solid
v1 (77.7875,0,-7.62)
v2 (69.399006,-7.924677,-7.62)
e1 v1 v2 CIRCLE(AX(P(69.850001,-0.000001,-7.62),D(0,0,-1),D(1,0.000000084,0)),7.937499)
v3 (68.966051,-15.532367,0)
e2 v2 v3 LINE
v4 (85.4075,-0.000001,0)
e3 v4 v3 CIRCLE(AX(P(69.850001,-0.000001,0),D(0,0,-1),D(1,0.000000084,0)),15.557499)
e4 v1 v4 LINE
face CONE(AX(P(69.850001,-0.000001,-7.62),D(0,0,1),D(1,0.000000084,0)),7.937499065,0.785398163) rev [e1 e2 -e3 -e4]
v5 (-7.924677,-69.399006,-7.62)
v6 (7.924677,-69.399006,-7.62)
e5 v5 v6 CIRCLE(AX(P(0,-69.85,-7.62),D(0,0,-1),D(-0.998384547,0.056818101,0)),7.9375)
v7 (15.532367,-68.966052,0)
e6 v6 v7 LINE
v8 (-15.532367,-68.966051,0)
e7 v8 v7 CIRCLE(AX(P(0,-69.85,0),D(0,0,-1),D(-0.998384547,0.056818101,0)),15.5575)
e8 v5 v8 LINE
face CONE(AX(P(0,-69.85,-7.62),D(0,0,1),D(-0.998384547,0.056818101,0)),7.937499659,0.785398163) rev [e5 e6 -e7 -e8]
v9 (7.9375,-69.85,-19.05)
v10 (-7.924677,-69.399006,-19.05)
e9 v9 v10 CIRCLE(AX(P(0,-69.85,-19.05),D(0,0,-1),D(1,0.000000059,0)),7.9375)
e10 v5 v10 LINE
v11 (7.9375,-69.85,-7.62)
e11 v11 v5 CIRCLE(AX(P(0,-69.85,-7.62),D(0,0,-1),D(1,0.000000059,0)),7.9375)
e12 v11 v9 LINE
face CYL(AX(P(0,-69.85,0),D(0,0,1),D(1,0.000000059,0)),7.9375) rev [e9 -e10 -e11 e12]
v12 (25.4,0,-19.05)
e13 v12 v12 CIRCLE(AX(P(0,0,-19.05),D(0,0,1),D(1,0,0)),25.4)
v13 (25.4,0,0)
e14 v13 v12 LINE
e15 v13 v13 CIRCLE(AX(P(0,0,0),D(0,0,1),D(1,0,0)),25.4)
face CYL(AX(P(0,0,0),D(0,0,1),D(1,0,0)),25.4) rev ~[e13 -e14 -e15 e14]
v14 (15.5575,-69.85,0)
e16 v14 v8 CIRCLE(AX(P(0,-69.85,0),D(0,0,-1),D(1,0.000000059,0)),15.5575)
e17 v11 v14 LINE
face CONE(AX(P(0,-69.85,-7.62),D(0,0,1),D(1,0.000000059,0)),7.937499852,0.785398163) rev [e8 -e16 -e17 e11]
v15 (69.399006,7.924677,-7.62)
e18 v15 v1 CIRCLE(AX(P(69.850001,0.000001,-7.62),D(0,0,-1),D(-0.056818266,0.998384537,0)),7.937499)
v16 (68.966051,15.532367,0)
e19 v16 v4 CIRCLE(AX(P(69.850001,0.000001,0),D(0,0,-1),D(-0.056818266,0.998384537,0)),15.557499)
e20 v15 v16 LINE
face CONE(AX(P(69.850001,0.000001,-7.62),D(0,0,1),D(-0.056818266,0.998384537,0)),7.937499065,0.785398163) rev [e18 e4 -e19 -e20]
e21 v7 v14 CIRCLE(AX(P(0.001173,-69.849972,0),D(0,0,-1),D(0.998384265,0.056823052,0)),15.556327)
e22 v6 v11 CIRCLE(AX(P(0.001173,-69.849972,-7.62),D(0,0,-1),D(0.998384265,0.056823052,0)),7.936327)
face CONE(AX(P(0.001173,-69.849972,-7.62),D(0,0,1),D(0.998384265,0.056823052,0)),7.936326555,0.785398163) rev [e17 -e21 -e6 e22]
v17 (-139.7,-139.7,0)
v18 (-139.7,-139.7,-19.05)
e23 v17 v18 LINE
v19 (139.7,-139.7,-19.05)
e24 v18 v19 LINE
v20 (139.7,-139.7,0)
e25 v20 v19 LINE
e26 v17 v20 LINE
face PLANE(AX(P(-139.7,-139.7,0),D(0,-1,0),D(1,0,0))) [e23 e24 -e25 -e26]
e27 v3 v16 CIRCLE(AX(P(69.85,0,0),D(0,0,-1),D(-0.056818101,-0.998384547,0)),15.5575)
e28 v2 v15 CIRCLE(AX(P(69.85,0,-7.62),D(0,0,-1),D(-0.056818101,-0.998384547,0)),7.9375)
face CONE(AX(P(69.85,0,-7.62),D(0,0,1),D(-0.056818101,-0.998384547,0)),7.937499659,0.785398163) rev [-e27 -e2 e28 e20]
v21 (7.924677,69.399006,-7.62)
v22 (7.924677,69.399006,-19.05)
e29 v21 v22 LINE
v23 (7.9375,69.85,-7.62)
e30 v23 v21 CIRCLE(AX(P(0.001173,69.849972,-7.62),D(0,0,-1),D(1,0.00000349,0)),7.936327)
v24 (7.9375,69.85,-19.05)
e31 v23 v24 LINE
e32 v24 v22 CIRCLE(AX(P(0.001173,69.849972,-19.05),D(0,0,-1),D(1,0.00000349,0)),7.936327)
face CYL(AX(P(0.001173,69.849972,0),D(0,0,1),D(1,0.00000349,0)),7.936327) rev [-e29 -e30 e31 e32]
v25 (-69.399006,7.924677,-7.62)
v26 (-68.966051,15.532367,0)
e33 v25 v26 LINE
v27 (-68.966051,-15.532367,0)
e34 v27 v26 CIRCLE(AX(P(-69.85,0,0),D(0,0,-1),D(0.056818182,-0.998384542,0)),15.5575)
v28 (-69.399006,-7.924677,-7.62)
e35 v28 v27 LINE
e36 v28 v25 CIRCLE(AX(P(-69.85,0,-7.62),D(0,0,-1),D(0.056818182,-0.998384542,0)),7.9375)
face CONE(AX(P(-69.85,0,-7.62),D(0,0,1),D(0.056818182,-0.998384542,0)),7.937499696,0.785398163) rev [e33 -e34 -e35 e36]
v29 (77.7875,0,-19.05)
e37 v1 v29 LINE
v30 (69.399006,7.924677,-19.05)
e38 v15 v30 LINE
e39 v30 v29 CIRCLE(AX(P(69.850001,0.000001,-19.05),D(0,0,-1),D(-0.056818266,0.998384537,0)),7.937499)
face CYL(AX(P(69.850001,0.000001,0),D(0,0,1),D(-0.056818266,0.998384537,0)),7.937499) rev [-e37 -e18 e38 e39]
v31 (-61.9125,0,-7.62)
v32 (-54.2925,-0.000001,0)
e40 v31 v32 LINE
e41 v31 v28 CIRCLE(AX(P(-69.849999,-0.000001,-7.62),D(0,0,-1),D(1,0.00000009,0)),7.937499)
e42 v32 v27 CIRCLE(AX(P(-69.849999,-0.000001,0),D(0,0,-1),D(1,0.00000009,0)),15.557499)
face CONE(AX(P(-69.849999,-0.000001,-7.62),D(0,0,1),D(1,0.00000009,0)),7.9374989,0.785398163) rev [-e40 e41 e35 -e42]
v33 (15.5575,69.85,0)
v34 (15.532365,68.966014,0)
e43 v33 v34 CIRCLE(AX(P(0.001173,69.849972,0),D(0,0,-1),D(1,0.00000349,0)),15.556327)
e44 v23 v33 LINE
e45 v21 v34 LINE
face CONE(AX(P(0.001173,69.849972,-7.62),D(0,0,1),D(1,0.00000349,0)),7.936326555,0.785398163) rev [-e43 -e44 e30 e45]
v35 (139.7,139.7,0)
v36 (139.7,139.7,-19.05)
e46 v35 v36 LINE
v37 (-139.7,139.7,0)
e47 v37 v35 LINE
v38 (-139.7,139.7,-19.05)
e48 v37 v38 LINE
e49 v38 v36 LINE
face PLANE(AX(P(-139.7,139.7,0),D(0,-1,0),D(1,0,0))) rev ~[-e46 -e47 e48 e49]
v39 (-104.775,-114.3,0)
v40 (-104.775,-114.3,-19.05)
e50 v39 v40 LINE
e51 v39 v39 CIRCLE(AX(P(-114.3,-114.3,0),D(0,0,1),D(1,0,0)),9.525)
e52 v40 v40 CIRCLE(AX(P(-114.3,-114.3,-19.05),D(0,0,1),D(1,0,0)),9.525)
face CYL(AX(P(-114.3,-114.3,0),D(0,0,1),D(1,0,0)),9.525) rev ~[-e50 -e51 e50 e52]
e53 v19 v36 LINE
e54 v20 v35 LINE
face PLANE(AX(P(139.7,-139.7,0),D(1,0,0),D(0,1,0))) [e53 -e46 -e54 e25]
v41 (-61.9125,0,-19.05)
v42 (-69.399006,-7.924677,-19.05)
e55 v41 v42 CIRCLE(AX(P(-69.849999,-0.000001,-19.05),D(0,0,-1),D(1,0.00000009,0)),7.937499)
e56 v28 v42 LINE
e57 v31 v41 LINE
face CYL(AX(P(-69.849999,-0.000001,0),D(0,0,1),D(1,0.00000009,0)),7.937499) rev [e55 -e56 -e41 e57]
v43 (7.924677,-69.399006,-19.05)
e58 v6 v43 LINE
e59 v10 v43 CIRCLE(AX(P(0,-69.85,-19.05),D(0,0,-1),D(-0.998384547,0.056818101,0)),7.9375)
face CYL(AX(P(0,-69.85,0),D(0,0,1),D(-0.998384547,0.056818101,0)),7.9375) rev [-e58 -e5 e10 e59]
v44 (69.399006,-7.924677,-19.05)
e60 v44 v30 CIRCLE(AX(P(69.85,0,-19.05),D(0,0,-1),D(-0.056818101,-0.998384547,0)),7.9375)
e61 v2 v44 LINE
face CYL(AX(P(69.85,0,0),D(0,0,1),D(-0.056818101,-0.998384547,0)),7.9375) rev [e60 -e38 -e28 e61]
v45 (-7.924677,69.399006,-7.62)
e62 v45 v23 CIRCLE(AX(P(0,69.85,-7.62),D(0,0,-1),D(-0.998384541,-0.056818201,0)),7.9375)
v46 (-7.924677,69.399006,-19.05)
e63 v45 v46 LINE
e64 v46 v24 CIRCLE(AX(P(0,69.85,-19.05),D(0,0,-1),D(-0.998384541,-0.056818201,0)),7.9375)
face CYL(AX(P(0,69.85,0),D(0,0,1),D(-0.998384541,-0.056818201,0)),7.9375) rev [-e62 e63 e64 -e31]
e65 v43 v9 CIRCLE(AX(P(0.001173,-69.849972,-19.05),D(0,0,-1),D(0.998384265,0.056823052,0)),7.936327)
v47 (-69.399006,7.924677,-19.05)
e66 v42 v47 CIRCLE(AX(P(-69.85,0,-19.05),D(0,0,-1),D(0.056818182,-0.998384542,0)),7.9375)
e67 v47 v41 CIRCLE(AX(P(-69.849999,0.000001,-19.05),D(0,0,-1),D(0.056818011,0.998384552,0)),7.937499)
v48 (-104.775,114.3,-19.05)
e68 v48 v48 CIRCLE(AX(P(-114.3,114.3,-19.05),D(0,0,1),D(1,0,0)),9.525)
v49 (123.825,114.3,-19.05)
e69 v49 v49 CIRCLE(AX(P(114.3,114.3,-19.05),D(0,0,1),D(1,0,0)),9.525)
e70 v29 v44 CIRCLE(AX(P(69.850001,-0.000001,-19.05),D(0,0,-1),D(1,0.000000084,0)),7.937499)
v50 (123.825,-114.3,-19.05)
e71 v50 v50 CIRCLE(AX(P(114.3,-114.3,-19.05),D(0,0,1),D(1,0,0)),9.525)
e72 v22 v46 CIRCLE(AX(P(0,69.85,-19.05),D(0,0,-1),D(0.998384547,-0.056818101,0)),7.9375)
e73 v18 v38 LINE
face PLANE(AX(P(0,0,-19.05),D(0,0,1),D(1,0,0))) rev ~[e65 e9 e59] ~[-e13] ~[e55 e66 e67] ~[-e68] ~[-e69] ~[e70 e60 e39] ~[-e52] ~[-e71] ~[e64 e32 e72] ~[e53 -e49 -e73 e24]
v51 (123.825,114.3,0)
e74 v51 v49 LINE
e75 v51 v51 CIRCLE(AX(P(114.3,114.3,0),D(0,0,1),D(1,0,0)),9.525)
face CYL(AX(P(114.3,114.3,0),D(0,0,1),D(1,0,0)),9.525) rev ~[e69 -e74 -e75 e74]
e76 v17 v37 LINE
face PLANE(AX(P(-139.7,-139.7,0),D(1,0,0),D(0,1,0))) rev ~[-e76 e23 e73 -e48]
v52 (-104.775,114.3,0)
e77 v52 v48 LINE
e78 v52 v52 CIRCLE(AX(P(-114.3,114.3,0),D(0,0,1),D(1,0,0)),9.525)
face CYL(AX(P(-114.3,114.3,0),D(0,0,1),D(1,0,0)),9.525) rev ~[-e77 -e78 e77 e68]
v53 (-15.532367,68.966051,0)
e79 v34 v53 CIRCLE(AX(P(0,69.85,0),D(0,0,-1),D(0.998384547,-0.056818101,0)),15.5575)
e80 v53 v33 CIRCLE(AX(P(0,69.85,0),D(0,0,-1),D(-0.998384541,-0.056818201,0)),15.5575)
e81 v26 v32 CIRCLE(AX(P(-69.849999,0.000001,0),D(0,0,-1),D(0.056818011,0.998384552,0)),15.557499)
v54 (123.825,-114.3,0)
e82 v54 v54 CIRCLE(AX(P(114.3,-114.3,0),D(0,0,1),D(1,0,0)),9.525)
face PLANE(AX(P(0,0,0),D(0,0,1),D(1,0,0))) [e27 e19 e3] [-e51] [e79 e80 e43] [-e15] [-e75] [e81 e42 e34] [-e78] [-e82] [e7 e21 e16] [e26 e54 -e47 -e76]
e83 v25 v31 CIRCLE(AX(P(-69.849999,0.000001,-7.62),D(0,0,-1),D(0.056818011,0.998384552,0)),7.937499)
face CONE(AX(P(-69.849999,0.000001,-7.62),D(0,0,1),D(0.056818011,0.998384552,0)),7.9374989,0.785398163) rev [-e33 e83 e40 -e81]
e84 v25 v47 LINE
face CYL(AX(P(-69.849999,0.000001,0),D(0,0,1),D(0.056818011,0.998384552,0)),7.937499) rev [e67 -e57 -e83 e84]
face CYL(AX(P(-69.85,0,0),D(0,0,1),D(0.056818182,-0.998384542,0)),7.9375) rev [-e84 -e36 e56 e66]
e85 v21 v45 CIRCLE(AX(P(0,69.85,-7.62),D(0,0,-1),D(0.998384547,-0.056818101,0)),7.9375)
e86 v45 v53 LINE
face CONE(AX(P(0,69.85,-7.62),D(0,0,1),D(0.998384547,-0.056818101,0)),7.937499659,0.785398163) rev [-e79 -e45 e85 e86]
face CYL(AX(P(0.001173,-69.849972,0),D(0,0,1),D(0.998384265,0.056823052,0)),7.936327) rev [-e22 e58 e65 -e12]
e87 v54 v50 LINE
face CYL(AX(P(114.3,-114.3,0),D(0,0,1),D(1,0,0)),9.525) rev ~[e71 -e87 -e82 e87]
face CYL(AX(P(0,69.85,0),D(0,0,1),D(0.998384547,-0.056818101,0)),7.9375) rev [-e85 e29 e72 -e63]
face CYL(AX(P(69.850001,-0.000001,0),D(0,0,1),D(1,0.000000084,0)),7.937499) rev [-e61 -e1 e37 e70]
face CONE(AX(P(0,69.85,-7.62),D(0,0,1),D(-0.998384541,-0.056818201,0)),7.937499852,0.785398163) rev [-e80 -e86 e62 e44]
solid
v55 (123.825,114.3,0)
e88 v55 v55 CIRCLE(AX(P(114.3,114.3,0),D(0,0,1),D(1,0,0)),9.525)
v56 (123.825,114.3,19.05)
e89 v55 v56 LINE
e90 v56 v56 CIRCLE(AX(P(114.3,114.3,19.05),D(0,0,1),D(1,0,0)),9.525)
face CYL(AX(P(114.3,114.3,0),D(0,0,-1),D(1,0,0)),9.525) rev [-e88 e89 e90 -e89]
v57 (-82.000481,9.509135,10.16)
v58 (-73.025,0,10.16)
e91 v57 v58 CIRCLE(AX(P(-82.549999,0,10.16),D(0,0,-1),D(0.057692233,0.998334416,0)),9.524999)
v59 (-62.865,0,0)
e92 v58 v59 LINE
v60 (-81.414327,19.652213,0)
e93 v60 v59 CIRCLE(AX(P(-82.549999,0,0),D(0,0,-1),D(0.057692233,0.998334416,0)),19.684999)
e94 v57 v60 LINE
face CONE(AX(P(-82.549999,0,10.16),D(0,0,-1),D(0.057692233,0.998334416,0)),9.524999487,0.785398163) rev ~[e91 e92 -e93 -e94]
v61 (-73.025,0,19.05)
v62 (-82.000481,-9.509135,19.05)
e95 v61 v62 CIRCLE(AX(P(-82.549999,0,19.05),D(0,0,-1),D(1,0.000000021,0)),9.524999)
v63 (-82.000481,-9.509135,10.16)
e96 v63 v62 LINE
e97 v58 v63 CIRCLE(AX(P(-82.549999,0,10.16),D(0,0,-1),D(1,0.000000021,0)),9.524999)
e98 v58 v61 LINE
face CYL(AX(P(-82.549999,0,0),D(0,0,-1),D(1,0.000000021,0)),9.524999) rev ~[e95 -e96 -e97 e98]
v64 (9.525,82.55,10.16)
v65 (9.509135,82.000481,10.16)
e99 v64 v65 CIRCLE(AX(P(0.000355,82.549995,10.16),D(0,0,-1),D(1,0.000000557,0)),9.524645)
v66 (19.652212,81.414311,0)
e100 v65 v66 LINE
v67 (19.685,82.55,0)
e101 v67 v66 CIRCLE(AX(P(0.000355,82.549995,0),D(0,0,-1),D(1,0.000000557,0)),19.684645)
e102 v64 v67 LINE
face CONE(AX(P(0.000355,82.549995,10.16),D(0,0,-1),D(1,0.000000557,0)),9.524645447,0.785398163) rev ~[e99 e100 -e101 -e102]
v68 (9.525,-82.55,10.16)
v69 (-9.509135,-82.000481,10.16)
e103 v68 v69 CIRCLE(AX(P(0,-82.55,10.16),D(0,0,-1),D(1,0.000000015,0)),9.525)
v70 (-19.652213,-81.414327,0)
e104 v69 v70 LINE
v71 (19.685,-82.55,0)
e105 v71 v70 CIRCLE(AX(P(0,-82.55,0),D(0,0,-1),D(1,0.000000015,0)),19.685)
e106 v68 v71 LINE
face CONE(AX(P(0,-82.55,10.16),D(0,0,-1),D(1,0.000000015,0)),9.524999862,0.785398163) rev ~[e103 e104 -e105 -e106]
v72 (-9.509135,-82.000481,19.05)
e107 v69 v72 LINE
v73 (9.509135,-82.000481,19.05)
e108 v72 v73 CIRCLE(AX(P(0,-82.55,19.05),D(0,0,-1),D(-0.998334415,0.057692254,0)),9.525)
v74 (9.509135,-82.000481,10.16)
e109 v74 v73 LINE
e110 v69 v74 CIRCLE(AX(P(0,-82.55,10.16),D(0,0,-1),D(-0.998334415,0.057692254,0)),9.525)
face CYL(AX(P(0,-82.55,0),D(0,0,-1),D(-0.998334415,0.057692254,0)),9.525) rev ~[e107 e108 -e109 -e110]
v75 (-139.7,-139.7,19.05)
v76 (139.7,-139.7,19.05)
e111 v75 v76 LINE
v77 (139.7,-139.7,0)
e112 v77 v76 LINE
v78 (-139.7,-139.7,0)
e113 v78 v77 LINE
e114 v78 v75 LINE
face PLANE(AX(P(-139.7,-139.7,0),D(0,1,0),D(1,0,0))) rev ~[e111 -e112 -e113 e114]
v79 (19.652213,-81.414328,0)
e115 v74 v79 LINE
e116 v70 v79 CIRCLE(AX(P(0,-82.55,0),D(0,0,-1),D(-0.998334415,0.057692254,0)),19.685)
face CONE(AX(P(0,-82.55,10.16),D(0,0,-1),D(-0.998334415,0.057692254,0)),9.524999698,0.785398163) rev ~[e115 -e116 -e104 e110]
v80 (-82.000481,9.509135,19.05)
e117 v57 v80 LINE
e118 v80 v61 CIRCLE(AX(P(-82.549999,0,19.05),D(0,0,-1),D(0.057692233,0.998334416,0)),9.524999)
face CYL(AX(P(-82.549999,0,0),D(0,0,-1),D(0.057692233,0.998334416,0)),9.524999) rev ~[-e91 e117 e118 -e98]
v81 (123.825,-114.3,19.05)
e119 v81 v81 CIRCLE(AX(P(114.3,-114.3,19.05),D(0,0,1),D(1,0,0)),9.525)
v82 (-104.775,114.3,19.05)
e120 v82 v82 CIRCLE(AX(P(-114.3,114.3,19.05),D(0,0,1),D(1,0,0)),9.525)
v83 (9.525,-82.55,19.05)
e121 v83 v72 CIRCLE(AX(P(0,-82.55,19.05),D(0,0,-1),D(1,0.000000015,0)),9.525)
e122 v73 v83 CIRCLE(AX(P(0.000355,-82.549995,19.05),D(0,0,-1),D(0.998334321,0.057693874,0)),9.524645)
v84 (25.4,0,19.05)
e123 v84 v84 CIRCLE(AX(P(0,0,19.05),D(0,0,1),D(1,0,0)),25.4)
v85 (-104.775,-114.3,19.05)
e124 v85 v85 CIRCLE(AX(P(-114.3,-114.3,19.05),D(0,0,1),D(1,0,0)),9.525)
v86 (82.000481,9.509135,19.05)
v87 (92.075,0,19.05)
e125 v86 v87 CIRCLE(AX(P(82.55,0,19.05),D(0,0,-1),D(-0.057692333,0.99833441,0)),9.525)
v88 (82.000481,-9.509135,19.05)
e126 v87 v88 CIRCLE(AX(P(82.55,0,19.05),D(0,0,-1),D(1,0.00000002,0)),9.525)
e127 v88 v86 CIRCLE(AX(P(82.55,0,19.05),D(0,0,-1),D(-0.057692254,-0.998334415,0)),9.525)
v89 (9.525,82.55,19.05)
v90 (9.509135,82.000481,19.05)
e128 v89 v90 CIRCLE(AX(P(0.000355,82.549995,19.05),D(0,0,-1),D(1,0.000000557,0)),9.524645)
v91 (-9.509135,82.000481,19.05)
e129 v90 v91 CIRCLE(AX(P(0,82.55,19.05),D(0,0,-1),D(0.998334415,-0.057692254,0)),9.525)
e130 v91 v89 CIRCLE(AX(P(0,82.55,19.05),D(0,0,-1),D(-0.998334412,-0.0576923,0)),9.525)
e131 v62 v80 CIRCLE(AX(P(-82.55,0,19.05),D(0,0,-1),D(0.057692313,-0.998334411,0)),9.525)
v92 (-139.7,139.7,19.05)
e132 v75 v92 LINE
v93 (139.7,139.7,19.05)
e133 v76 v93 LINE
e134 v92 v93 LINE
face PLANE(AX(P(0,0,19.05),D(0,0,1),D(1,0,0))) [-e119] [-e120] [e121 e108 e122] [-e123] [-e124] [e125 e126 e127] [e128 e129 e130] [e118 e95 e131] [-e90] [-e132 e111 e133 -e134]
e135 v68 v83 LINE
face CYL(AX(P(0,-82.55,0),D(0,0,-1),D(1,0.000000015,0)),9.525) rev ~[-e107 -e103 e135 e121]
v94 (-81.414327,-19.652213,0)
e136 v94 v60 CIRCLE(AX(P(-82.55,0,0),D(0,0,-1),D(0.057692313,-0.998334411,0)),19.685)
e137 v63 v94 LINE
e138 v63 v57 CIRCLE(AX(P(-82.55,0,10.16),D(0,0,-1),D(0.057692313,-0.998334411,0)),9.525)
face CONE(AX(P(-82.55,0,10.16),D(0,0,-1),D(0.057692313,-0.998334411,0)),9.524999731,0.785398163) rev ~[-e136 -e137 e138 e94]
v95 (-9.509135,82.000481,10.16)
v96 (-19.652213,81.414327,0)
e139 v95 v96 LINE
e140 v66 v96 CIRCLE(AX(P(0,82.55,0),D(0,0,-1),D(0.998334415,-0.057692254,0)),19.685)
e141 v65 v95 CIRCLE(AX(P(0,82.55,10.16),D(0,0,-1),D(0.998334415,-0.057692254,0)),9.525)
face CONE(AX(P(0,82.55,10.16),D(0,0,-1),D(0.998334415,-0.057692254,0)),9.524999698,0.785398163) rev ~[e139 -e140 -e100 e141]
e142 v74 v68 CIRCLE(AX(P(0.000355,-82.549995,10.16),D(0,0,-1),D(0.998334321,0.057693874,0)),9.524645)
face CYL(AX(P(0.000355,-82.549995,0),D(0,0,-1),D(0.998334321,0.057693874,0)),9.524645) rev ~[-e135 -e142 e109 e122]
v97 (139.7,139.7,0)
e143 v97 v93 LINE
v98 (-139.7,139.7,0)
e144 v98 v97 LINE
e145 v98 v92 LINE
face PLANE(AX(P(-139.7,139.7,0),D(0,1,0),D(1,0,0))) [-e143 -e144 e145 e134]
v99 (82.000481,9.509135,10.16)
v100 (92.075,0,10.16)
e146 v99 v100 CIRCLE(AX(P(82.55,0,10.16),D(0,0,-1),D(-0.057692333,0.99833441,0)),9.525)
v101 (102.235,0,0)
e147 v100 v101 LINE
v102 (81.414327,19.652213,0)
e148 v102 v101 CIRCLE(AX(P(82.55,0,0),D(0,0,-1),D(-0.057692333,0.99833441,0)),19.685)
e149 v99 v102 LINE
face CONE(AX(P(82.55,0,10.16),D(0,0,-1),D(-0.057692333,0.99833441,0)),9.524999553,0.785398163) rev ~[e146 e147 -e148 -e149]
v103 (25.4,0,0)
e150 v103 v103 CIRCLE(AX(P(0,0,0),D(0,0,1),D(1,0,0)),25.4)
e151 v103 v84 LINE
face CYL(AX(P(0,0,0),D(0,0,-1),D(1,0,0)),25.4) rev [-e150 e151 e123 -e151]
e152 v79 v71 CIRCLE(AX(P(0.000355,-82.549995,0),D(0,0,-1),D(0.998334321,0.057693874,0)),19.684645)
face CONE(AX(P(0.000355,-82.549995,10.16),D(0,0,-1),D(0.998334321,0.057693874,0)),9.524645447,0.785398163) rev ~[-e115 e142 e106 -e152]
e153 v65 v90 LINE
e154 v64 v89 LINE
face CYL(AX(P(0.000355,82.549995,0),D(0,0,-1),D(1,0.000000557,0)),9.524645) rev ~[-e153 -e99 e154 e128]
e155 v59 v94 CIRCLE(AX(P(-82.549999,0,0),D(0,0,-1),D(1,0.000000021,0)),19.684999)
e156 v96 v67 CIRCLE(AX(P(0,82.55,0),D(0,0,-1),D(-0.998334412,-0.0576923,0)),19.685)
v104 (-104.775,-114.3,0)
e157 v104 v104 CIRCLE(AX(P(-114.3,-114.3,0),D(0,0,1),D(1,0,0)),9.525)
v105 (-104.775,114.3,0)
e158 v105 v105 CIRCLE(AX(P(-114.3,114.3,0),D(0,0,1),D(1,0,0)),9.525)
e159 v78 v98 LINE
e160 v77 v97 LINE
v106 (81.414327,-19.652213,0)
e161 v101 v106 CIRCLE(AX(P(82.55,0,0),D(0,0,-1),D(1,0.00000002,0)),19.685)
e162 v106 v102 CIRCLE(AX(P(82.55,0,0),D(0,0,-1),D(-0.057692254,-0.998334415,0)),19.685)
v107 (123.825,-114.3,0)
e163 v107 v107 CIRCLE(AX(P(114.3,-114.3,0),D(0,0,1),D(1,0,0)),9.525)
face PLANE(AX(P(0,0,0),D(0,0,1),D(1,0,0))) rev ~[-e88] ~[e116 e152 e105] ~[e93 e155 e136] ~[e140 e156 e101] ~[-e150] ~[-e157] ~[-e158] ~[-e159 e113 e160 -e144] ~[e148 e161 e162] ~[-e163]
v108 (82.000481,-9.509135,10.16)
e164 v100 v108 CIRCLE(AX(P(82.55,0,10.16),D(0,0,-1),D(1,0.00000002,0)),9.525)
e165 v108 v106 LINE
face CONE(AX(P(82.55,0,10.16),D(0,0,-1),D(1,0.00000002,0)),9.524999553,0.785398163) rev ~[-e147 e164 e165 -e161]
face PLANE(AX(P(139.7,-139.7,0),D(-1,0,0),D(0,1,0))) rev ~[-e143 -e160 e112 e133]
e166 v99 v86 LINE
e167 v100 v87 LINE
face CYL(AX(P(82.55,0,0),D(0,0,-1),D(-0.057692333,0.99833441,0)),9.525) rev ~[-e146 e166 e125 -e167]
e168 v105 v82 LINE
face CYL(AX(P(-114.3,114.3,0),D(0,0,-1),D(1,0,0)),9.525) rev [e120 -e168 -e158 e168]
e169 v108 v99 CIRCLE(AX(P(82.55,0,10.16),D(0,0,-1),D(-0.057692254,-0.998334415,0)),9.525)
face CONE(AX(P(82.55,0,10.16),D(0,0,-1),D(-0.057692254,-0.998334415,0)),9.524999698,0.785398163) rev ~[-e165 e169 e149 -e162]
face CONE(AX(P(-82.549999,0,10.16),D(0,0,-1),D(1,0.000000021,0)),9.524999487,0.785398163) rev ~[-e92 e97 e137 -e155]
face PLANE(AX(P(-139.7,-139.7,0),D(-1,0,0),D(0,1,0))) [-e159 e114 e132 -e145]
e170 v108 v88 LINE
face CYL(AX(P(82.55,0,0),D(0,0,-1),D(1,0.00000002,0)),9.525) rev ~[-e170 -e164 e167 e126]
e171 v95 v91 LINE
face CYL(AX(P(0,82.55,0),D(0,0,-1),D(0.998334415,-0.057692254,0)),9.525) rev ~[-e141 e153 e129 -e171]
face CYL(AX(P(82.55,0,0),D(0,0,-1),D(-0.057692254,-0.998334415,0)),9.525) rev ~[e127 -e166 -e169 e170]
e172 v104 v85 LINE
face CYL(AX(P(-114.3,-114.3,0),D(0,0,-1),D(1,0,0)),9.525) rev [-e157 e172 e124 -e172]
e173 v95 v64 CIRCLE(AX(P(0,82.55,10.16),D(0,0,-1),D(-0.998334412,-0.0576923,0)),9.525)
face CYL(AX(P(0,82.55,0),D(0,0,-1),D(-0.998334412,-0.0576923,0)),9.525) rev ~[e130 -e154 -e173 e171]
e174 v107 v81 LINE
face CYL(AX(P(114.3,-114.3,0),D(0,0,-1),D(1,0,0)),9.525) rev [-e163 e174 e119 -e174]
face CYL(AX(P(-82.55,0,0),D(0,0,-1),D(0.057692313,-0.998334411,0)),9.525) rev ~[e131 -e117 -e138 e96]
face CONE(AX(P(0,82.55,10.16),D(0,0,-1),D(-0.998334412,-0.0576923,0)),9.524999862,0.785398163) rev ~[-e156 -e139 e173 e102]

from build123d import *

# Parameters (mm, degrees)
F0_W     = 279.4
F0_H     = 279.4
F0_R     = 9.525
F0_R_2   = 118.11
F0_R_3   = 25.4
F1_DEPTH = 19.05
F2_SIZE  = 10.16
F3_W     = 279.4
F3_H     = 279.4
F3_R     = 9.525
F3_R_2   = 25.4
F4_DEPTH = 19.05
F5_SIZE  = 7.62


with BuildPart() as f1:
    # F0 (on Top) → F1 (new body)
    with BuildSketch(Plane.XY):
        Rectangle(F0_W, F0_H)
        with Locations((-114.3, -114.3)):
            Circle(F0_R, mode=Mode.SUBTRACT)
        with Locations((114.3, -114.3)):
            Circle(F0_R, mode=Mode.SUBTRACT)
        with Locations((-114.3, 114.3)):
            Circle(F0_R, mode=Mode.SUBTRACT)
        Circle(F0_R_2, mode=Mode.SUBTRACT)
        with Locations((114.3, 114.3)):
            Circle(F0_R, mode=Mode.SUBTRACT)
        Circle(F0_R_2)
        with BuildLine():
            ThreePointArc((9.509135, 82.000481), (58.371665, 58.371665), (82.000481, 9.509135))
            ThreePointArc((82.000481, 9.509135), (89.088022, 6.926752), (92.075, 0))
            ThreePointArc((92.075, 0), (89.088022, -6.926752), (82.000481, -9.509135))
            ThreePointArc((82.000481, -9.509135), (58.371665, -58.371665), (9.509135, -82.000481))
            ThreePointArc((9.509135, -82.000481), (9.521033, -82.275126), (9.525, -82.55))
            ThreePointArc((9.525, -82.55), (-0.274874, -92.071033), (-9.509135, -82.000481))
            ThreePointArc((-9.509135, -82.000481), (-58.371665, -58.371665), (-82.000481, -9.509135))
            ThreePointArc((-82.000481, -9.509135), (-92.075, 0), (-82.000481, 9.509135))
            ThreePointArc((-82.000481, 9.509135), (-58.371665, 58.371665), (-9.509135, 82.000481))
            ThreePointArc((-9.509135, 82.000481), (-0.274874, 92.071033), (9.525, 82.55))
            ThreePointArc((9.525, 82.55), (9.521033, 82.275126), (9.509135, 82.000481))
        make_face(mode=Mode.SUBTRACT)
        with BuildLine():
            ThreePointArc((82.000481, -9.509135), (73.025, 0), (82.000481, 9.509135))
            ThreePointArc((82.000481, 9.509135), (58.371665, 58.371665), (9.509135, 82.000481))
            ThreePointArc((9.509135, 82.000481), (0, 73.025), (-9.509135, 82.000481))
            ThreePointArc((-9.509135, 82.000481), (-58.371665, 58.371665), (-82.000481, 9.509135))
            ThreePointArc((-82.000481, 9.509135), (-75.623248, 6.538022), (-73.025, 0))
            ThreePointArc((-73.025, 0), (-75.623248, -6.538022), (-82.000481, -9.509135))
            ThreePointArc((-82.000481, -9.509135), (-58.371665, -58.371665), (-9.509135, -82.000481))
            ThreePointArc((-9.509135, -82.000481), (0, -73.025), (9.509135, -82.000481))
            ThreePointArc((9.509135, -82.000481), (58.371665, -58.371665), (82.000481, -9.509135))
        make_face()
        Circle(F0_R_3, mode=Mode.SUBTRACT)
    extrude(amount=F1_DEPTH)

    # F2
    f2_edges = [f1.edges().sort_by_distance(p)[0] for p in [
        (9.509135, -83.099519, 0),
        (83.099519, 9.509135, 0),
        (-9.525, 82.55, 0),
        (-83.099519, -9.509135, 0),
    ]]
    chamfer(f2_edges, length=F2_SIZE)


with BuildPart() as f4:
    # F3 (on Top) → F4 (new body)
    with BuildSketch(Plane.XY):
        Rectangle(F3_W, F3_H)
        with Locations((-114.3, -114.3)):
            Circle(F3_R, mode=Mode.SUBTRACT)
        with Locations((114.3, -114.3)):
            Circle(F3_R, mode=Mode.SUBTRACT)
        with Locations((-114.3, 114.3)):
            Circle(F3_R, mode=Mode.SUBTRACT)
        with BuildLine():
            ThreePointArc((7.924677, 69.399006), (49.391409, 49.391409), (69.399006, 7.924677))
            ThreePointArc((69.399006, 7.924677), (75.300878, 5.769908), (77.7875, 0))
            ThreePointArc((77.7875, 0), (75.300878, -5.769908), (69.399006, -7.924677))
            ThreePointArc((69.399006, -7.924677), (49.391409, -49.391409), (7.924677, -69.399006))
            ThreePointArc((7.924677, -69.399006), (7.934294, -69.624412), (7.9375, -69.85))
            ThreePointArc((7.9375, -69.85), (-0.225588, -77.784294), (-7.924677, -69.399006))
            ThreePointArc((-7.924677, -69.399006), (-49.391409, -49.391409), (-69.399006, -7.924677))
            ThreePointArc((-69.399006, -7.924677), (-77.7875, 0), (-69.399006, 7.924677))
            ThreePointArc((-69.399006, 7.924677), (-49.391409, 49.391409), (-7.924677, 69.399006))
            ThreePointArc((-7.924677, 69.399006), (-0.225588, 77.784294), (7.9375, 69.85))
            ThreePointArc((7.9375, 69.85), (7.934294, 69.624412), (7.924677, 69.399006))
        make_face(mode=Mode.SUBTRACT)
        with Locations((114.3, 114.3)):
            Circle(F3_R, mode=Mode.SUBTRACT)
        with BuildLine():
            ThreePointArc((69.399006, -7.924677), (61.9125, 0), (69.399006, 7.924677))
            ThreePointArc((69.399006, 7.924677), (49.391409, 49.391409), (7.924677, 69.399006))
            ThreePointArc((7.924677, 69.399006), (0, 61.9125), (-7.924677, 69.399006))
            ThreePointArc((-7.924677, 69.399006), (-49.391409, 49.391409), (-69.399006, 7.924677))
            ThreePointArc((-69.399006, 7.924677), (-64.080092, 5.450878), (-61.9125, 0))
            ThreePointArc((-61.9125, 0), (-64.080092, -5.450878), (-69.399006, -7.924677))
            ThreePointArc((-69.399006, -7.924677), (-49.391409, -49.391409), (-7.924677, -69.399006))
            ThreePointArc((-7.924677, -69.399006), (0, -61.9125), (7.924677, -69.399006))
            ThreePointArc((7.924677, -69.399006), (49.391409, -49.391409), (69.399006, -7.924677))
        make_face()
        Circle(F3_R_2, mode=Mode.SUBTRACT)
    extrude(amount=-F4_DEPTH)

    # F5
    f5_edges = [f4.edges().sort_by_distance(p)[0] for p in [
        (-70.300994, -7.924677, 0),
        (-7.9375, 69.85, 0),
        (70.300994, 7.924677, 0),
        (7.924677, -70.300994, 0),
    ]]
    chamfer(f5_edges, length=F5_SIZE)


solid = Compound([f1.part, f4.part])
